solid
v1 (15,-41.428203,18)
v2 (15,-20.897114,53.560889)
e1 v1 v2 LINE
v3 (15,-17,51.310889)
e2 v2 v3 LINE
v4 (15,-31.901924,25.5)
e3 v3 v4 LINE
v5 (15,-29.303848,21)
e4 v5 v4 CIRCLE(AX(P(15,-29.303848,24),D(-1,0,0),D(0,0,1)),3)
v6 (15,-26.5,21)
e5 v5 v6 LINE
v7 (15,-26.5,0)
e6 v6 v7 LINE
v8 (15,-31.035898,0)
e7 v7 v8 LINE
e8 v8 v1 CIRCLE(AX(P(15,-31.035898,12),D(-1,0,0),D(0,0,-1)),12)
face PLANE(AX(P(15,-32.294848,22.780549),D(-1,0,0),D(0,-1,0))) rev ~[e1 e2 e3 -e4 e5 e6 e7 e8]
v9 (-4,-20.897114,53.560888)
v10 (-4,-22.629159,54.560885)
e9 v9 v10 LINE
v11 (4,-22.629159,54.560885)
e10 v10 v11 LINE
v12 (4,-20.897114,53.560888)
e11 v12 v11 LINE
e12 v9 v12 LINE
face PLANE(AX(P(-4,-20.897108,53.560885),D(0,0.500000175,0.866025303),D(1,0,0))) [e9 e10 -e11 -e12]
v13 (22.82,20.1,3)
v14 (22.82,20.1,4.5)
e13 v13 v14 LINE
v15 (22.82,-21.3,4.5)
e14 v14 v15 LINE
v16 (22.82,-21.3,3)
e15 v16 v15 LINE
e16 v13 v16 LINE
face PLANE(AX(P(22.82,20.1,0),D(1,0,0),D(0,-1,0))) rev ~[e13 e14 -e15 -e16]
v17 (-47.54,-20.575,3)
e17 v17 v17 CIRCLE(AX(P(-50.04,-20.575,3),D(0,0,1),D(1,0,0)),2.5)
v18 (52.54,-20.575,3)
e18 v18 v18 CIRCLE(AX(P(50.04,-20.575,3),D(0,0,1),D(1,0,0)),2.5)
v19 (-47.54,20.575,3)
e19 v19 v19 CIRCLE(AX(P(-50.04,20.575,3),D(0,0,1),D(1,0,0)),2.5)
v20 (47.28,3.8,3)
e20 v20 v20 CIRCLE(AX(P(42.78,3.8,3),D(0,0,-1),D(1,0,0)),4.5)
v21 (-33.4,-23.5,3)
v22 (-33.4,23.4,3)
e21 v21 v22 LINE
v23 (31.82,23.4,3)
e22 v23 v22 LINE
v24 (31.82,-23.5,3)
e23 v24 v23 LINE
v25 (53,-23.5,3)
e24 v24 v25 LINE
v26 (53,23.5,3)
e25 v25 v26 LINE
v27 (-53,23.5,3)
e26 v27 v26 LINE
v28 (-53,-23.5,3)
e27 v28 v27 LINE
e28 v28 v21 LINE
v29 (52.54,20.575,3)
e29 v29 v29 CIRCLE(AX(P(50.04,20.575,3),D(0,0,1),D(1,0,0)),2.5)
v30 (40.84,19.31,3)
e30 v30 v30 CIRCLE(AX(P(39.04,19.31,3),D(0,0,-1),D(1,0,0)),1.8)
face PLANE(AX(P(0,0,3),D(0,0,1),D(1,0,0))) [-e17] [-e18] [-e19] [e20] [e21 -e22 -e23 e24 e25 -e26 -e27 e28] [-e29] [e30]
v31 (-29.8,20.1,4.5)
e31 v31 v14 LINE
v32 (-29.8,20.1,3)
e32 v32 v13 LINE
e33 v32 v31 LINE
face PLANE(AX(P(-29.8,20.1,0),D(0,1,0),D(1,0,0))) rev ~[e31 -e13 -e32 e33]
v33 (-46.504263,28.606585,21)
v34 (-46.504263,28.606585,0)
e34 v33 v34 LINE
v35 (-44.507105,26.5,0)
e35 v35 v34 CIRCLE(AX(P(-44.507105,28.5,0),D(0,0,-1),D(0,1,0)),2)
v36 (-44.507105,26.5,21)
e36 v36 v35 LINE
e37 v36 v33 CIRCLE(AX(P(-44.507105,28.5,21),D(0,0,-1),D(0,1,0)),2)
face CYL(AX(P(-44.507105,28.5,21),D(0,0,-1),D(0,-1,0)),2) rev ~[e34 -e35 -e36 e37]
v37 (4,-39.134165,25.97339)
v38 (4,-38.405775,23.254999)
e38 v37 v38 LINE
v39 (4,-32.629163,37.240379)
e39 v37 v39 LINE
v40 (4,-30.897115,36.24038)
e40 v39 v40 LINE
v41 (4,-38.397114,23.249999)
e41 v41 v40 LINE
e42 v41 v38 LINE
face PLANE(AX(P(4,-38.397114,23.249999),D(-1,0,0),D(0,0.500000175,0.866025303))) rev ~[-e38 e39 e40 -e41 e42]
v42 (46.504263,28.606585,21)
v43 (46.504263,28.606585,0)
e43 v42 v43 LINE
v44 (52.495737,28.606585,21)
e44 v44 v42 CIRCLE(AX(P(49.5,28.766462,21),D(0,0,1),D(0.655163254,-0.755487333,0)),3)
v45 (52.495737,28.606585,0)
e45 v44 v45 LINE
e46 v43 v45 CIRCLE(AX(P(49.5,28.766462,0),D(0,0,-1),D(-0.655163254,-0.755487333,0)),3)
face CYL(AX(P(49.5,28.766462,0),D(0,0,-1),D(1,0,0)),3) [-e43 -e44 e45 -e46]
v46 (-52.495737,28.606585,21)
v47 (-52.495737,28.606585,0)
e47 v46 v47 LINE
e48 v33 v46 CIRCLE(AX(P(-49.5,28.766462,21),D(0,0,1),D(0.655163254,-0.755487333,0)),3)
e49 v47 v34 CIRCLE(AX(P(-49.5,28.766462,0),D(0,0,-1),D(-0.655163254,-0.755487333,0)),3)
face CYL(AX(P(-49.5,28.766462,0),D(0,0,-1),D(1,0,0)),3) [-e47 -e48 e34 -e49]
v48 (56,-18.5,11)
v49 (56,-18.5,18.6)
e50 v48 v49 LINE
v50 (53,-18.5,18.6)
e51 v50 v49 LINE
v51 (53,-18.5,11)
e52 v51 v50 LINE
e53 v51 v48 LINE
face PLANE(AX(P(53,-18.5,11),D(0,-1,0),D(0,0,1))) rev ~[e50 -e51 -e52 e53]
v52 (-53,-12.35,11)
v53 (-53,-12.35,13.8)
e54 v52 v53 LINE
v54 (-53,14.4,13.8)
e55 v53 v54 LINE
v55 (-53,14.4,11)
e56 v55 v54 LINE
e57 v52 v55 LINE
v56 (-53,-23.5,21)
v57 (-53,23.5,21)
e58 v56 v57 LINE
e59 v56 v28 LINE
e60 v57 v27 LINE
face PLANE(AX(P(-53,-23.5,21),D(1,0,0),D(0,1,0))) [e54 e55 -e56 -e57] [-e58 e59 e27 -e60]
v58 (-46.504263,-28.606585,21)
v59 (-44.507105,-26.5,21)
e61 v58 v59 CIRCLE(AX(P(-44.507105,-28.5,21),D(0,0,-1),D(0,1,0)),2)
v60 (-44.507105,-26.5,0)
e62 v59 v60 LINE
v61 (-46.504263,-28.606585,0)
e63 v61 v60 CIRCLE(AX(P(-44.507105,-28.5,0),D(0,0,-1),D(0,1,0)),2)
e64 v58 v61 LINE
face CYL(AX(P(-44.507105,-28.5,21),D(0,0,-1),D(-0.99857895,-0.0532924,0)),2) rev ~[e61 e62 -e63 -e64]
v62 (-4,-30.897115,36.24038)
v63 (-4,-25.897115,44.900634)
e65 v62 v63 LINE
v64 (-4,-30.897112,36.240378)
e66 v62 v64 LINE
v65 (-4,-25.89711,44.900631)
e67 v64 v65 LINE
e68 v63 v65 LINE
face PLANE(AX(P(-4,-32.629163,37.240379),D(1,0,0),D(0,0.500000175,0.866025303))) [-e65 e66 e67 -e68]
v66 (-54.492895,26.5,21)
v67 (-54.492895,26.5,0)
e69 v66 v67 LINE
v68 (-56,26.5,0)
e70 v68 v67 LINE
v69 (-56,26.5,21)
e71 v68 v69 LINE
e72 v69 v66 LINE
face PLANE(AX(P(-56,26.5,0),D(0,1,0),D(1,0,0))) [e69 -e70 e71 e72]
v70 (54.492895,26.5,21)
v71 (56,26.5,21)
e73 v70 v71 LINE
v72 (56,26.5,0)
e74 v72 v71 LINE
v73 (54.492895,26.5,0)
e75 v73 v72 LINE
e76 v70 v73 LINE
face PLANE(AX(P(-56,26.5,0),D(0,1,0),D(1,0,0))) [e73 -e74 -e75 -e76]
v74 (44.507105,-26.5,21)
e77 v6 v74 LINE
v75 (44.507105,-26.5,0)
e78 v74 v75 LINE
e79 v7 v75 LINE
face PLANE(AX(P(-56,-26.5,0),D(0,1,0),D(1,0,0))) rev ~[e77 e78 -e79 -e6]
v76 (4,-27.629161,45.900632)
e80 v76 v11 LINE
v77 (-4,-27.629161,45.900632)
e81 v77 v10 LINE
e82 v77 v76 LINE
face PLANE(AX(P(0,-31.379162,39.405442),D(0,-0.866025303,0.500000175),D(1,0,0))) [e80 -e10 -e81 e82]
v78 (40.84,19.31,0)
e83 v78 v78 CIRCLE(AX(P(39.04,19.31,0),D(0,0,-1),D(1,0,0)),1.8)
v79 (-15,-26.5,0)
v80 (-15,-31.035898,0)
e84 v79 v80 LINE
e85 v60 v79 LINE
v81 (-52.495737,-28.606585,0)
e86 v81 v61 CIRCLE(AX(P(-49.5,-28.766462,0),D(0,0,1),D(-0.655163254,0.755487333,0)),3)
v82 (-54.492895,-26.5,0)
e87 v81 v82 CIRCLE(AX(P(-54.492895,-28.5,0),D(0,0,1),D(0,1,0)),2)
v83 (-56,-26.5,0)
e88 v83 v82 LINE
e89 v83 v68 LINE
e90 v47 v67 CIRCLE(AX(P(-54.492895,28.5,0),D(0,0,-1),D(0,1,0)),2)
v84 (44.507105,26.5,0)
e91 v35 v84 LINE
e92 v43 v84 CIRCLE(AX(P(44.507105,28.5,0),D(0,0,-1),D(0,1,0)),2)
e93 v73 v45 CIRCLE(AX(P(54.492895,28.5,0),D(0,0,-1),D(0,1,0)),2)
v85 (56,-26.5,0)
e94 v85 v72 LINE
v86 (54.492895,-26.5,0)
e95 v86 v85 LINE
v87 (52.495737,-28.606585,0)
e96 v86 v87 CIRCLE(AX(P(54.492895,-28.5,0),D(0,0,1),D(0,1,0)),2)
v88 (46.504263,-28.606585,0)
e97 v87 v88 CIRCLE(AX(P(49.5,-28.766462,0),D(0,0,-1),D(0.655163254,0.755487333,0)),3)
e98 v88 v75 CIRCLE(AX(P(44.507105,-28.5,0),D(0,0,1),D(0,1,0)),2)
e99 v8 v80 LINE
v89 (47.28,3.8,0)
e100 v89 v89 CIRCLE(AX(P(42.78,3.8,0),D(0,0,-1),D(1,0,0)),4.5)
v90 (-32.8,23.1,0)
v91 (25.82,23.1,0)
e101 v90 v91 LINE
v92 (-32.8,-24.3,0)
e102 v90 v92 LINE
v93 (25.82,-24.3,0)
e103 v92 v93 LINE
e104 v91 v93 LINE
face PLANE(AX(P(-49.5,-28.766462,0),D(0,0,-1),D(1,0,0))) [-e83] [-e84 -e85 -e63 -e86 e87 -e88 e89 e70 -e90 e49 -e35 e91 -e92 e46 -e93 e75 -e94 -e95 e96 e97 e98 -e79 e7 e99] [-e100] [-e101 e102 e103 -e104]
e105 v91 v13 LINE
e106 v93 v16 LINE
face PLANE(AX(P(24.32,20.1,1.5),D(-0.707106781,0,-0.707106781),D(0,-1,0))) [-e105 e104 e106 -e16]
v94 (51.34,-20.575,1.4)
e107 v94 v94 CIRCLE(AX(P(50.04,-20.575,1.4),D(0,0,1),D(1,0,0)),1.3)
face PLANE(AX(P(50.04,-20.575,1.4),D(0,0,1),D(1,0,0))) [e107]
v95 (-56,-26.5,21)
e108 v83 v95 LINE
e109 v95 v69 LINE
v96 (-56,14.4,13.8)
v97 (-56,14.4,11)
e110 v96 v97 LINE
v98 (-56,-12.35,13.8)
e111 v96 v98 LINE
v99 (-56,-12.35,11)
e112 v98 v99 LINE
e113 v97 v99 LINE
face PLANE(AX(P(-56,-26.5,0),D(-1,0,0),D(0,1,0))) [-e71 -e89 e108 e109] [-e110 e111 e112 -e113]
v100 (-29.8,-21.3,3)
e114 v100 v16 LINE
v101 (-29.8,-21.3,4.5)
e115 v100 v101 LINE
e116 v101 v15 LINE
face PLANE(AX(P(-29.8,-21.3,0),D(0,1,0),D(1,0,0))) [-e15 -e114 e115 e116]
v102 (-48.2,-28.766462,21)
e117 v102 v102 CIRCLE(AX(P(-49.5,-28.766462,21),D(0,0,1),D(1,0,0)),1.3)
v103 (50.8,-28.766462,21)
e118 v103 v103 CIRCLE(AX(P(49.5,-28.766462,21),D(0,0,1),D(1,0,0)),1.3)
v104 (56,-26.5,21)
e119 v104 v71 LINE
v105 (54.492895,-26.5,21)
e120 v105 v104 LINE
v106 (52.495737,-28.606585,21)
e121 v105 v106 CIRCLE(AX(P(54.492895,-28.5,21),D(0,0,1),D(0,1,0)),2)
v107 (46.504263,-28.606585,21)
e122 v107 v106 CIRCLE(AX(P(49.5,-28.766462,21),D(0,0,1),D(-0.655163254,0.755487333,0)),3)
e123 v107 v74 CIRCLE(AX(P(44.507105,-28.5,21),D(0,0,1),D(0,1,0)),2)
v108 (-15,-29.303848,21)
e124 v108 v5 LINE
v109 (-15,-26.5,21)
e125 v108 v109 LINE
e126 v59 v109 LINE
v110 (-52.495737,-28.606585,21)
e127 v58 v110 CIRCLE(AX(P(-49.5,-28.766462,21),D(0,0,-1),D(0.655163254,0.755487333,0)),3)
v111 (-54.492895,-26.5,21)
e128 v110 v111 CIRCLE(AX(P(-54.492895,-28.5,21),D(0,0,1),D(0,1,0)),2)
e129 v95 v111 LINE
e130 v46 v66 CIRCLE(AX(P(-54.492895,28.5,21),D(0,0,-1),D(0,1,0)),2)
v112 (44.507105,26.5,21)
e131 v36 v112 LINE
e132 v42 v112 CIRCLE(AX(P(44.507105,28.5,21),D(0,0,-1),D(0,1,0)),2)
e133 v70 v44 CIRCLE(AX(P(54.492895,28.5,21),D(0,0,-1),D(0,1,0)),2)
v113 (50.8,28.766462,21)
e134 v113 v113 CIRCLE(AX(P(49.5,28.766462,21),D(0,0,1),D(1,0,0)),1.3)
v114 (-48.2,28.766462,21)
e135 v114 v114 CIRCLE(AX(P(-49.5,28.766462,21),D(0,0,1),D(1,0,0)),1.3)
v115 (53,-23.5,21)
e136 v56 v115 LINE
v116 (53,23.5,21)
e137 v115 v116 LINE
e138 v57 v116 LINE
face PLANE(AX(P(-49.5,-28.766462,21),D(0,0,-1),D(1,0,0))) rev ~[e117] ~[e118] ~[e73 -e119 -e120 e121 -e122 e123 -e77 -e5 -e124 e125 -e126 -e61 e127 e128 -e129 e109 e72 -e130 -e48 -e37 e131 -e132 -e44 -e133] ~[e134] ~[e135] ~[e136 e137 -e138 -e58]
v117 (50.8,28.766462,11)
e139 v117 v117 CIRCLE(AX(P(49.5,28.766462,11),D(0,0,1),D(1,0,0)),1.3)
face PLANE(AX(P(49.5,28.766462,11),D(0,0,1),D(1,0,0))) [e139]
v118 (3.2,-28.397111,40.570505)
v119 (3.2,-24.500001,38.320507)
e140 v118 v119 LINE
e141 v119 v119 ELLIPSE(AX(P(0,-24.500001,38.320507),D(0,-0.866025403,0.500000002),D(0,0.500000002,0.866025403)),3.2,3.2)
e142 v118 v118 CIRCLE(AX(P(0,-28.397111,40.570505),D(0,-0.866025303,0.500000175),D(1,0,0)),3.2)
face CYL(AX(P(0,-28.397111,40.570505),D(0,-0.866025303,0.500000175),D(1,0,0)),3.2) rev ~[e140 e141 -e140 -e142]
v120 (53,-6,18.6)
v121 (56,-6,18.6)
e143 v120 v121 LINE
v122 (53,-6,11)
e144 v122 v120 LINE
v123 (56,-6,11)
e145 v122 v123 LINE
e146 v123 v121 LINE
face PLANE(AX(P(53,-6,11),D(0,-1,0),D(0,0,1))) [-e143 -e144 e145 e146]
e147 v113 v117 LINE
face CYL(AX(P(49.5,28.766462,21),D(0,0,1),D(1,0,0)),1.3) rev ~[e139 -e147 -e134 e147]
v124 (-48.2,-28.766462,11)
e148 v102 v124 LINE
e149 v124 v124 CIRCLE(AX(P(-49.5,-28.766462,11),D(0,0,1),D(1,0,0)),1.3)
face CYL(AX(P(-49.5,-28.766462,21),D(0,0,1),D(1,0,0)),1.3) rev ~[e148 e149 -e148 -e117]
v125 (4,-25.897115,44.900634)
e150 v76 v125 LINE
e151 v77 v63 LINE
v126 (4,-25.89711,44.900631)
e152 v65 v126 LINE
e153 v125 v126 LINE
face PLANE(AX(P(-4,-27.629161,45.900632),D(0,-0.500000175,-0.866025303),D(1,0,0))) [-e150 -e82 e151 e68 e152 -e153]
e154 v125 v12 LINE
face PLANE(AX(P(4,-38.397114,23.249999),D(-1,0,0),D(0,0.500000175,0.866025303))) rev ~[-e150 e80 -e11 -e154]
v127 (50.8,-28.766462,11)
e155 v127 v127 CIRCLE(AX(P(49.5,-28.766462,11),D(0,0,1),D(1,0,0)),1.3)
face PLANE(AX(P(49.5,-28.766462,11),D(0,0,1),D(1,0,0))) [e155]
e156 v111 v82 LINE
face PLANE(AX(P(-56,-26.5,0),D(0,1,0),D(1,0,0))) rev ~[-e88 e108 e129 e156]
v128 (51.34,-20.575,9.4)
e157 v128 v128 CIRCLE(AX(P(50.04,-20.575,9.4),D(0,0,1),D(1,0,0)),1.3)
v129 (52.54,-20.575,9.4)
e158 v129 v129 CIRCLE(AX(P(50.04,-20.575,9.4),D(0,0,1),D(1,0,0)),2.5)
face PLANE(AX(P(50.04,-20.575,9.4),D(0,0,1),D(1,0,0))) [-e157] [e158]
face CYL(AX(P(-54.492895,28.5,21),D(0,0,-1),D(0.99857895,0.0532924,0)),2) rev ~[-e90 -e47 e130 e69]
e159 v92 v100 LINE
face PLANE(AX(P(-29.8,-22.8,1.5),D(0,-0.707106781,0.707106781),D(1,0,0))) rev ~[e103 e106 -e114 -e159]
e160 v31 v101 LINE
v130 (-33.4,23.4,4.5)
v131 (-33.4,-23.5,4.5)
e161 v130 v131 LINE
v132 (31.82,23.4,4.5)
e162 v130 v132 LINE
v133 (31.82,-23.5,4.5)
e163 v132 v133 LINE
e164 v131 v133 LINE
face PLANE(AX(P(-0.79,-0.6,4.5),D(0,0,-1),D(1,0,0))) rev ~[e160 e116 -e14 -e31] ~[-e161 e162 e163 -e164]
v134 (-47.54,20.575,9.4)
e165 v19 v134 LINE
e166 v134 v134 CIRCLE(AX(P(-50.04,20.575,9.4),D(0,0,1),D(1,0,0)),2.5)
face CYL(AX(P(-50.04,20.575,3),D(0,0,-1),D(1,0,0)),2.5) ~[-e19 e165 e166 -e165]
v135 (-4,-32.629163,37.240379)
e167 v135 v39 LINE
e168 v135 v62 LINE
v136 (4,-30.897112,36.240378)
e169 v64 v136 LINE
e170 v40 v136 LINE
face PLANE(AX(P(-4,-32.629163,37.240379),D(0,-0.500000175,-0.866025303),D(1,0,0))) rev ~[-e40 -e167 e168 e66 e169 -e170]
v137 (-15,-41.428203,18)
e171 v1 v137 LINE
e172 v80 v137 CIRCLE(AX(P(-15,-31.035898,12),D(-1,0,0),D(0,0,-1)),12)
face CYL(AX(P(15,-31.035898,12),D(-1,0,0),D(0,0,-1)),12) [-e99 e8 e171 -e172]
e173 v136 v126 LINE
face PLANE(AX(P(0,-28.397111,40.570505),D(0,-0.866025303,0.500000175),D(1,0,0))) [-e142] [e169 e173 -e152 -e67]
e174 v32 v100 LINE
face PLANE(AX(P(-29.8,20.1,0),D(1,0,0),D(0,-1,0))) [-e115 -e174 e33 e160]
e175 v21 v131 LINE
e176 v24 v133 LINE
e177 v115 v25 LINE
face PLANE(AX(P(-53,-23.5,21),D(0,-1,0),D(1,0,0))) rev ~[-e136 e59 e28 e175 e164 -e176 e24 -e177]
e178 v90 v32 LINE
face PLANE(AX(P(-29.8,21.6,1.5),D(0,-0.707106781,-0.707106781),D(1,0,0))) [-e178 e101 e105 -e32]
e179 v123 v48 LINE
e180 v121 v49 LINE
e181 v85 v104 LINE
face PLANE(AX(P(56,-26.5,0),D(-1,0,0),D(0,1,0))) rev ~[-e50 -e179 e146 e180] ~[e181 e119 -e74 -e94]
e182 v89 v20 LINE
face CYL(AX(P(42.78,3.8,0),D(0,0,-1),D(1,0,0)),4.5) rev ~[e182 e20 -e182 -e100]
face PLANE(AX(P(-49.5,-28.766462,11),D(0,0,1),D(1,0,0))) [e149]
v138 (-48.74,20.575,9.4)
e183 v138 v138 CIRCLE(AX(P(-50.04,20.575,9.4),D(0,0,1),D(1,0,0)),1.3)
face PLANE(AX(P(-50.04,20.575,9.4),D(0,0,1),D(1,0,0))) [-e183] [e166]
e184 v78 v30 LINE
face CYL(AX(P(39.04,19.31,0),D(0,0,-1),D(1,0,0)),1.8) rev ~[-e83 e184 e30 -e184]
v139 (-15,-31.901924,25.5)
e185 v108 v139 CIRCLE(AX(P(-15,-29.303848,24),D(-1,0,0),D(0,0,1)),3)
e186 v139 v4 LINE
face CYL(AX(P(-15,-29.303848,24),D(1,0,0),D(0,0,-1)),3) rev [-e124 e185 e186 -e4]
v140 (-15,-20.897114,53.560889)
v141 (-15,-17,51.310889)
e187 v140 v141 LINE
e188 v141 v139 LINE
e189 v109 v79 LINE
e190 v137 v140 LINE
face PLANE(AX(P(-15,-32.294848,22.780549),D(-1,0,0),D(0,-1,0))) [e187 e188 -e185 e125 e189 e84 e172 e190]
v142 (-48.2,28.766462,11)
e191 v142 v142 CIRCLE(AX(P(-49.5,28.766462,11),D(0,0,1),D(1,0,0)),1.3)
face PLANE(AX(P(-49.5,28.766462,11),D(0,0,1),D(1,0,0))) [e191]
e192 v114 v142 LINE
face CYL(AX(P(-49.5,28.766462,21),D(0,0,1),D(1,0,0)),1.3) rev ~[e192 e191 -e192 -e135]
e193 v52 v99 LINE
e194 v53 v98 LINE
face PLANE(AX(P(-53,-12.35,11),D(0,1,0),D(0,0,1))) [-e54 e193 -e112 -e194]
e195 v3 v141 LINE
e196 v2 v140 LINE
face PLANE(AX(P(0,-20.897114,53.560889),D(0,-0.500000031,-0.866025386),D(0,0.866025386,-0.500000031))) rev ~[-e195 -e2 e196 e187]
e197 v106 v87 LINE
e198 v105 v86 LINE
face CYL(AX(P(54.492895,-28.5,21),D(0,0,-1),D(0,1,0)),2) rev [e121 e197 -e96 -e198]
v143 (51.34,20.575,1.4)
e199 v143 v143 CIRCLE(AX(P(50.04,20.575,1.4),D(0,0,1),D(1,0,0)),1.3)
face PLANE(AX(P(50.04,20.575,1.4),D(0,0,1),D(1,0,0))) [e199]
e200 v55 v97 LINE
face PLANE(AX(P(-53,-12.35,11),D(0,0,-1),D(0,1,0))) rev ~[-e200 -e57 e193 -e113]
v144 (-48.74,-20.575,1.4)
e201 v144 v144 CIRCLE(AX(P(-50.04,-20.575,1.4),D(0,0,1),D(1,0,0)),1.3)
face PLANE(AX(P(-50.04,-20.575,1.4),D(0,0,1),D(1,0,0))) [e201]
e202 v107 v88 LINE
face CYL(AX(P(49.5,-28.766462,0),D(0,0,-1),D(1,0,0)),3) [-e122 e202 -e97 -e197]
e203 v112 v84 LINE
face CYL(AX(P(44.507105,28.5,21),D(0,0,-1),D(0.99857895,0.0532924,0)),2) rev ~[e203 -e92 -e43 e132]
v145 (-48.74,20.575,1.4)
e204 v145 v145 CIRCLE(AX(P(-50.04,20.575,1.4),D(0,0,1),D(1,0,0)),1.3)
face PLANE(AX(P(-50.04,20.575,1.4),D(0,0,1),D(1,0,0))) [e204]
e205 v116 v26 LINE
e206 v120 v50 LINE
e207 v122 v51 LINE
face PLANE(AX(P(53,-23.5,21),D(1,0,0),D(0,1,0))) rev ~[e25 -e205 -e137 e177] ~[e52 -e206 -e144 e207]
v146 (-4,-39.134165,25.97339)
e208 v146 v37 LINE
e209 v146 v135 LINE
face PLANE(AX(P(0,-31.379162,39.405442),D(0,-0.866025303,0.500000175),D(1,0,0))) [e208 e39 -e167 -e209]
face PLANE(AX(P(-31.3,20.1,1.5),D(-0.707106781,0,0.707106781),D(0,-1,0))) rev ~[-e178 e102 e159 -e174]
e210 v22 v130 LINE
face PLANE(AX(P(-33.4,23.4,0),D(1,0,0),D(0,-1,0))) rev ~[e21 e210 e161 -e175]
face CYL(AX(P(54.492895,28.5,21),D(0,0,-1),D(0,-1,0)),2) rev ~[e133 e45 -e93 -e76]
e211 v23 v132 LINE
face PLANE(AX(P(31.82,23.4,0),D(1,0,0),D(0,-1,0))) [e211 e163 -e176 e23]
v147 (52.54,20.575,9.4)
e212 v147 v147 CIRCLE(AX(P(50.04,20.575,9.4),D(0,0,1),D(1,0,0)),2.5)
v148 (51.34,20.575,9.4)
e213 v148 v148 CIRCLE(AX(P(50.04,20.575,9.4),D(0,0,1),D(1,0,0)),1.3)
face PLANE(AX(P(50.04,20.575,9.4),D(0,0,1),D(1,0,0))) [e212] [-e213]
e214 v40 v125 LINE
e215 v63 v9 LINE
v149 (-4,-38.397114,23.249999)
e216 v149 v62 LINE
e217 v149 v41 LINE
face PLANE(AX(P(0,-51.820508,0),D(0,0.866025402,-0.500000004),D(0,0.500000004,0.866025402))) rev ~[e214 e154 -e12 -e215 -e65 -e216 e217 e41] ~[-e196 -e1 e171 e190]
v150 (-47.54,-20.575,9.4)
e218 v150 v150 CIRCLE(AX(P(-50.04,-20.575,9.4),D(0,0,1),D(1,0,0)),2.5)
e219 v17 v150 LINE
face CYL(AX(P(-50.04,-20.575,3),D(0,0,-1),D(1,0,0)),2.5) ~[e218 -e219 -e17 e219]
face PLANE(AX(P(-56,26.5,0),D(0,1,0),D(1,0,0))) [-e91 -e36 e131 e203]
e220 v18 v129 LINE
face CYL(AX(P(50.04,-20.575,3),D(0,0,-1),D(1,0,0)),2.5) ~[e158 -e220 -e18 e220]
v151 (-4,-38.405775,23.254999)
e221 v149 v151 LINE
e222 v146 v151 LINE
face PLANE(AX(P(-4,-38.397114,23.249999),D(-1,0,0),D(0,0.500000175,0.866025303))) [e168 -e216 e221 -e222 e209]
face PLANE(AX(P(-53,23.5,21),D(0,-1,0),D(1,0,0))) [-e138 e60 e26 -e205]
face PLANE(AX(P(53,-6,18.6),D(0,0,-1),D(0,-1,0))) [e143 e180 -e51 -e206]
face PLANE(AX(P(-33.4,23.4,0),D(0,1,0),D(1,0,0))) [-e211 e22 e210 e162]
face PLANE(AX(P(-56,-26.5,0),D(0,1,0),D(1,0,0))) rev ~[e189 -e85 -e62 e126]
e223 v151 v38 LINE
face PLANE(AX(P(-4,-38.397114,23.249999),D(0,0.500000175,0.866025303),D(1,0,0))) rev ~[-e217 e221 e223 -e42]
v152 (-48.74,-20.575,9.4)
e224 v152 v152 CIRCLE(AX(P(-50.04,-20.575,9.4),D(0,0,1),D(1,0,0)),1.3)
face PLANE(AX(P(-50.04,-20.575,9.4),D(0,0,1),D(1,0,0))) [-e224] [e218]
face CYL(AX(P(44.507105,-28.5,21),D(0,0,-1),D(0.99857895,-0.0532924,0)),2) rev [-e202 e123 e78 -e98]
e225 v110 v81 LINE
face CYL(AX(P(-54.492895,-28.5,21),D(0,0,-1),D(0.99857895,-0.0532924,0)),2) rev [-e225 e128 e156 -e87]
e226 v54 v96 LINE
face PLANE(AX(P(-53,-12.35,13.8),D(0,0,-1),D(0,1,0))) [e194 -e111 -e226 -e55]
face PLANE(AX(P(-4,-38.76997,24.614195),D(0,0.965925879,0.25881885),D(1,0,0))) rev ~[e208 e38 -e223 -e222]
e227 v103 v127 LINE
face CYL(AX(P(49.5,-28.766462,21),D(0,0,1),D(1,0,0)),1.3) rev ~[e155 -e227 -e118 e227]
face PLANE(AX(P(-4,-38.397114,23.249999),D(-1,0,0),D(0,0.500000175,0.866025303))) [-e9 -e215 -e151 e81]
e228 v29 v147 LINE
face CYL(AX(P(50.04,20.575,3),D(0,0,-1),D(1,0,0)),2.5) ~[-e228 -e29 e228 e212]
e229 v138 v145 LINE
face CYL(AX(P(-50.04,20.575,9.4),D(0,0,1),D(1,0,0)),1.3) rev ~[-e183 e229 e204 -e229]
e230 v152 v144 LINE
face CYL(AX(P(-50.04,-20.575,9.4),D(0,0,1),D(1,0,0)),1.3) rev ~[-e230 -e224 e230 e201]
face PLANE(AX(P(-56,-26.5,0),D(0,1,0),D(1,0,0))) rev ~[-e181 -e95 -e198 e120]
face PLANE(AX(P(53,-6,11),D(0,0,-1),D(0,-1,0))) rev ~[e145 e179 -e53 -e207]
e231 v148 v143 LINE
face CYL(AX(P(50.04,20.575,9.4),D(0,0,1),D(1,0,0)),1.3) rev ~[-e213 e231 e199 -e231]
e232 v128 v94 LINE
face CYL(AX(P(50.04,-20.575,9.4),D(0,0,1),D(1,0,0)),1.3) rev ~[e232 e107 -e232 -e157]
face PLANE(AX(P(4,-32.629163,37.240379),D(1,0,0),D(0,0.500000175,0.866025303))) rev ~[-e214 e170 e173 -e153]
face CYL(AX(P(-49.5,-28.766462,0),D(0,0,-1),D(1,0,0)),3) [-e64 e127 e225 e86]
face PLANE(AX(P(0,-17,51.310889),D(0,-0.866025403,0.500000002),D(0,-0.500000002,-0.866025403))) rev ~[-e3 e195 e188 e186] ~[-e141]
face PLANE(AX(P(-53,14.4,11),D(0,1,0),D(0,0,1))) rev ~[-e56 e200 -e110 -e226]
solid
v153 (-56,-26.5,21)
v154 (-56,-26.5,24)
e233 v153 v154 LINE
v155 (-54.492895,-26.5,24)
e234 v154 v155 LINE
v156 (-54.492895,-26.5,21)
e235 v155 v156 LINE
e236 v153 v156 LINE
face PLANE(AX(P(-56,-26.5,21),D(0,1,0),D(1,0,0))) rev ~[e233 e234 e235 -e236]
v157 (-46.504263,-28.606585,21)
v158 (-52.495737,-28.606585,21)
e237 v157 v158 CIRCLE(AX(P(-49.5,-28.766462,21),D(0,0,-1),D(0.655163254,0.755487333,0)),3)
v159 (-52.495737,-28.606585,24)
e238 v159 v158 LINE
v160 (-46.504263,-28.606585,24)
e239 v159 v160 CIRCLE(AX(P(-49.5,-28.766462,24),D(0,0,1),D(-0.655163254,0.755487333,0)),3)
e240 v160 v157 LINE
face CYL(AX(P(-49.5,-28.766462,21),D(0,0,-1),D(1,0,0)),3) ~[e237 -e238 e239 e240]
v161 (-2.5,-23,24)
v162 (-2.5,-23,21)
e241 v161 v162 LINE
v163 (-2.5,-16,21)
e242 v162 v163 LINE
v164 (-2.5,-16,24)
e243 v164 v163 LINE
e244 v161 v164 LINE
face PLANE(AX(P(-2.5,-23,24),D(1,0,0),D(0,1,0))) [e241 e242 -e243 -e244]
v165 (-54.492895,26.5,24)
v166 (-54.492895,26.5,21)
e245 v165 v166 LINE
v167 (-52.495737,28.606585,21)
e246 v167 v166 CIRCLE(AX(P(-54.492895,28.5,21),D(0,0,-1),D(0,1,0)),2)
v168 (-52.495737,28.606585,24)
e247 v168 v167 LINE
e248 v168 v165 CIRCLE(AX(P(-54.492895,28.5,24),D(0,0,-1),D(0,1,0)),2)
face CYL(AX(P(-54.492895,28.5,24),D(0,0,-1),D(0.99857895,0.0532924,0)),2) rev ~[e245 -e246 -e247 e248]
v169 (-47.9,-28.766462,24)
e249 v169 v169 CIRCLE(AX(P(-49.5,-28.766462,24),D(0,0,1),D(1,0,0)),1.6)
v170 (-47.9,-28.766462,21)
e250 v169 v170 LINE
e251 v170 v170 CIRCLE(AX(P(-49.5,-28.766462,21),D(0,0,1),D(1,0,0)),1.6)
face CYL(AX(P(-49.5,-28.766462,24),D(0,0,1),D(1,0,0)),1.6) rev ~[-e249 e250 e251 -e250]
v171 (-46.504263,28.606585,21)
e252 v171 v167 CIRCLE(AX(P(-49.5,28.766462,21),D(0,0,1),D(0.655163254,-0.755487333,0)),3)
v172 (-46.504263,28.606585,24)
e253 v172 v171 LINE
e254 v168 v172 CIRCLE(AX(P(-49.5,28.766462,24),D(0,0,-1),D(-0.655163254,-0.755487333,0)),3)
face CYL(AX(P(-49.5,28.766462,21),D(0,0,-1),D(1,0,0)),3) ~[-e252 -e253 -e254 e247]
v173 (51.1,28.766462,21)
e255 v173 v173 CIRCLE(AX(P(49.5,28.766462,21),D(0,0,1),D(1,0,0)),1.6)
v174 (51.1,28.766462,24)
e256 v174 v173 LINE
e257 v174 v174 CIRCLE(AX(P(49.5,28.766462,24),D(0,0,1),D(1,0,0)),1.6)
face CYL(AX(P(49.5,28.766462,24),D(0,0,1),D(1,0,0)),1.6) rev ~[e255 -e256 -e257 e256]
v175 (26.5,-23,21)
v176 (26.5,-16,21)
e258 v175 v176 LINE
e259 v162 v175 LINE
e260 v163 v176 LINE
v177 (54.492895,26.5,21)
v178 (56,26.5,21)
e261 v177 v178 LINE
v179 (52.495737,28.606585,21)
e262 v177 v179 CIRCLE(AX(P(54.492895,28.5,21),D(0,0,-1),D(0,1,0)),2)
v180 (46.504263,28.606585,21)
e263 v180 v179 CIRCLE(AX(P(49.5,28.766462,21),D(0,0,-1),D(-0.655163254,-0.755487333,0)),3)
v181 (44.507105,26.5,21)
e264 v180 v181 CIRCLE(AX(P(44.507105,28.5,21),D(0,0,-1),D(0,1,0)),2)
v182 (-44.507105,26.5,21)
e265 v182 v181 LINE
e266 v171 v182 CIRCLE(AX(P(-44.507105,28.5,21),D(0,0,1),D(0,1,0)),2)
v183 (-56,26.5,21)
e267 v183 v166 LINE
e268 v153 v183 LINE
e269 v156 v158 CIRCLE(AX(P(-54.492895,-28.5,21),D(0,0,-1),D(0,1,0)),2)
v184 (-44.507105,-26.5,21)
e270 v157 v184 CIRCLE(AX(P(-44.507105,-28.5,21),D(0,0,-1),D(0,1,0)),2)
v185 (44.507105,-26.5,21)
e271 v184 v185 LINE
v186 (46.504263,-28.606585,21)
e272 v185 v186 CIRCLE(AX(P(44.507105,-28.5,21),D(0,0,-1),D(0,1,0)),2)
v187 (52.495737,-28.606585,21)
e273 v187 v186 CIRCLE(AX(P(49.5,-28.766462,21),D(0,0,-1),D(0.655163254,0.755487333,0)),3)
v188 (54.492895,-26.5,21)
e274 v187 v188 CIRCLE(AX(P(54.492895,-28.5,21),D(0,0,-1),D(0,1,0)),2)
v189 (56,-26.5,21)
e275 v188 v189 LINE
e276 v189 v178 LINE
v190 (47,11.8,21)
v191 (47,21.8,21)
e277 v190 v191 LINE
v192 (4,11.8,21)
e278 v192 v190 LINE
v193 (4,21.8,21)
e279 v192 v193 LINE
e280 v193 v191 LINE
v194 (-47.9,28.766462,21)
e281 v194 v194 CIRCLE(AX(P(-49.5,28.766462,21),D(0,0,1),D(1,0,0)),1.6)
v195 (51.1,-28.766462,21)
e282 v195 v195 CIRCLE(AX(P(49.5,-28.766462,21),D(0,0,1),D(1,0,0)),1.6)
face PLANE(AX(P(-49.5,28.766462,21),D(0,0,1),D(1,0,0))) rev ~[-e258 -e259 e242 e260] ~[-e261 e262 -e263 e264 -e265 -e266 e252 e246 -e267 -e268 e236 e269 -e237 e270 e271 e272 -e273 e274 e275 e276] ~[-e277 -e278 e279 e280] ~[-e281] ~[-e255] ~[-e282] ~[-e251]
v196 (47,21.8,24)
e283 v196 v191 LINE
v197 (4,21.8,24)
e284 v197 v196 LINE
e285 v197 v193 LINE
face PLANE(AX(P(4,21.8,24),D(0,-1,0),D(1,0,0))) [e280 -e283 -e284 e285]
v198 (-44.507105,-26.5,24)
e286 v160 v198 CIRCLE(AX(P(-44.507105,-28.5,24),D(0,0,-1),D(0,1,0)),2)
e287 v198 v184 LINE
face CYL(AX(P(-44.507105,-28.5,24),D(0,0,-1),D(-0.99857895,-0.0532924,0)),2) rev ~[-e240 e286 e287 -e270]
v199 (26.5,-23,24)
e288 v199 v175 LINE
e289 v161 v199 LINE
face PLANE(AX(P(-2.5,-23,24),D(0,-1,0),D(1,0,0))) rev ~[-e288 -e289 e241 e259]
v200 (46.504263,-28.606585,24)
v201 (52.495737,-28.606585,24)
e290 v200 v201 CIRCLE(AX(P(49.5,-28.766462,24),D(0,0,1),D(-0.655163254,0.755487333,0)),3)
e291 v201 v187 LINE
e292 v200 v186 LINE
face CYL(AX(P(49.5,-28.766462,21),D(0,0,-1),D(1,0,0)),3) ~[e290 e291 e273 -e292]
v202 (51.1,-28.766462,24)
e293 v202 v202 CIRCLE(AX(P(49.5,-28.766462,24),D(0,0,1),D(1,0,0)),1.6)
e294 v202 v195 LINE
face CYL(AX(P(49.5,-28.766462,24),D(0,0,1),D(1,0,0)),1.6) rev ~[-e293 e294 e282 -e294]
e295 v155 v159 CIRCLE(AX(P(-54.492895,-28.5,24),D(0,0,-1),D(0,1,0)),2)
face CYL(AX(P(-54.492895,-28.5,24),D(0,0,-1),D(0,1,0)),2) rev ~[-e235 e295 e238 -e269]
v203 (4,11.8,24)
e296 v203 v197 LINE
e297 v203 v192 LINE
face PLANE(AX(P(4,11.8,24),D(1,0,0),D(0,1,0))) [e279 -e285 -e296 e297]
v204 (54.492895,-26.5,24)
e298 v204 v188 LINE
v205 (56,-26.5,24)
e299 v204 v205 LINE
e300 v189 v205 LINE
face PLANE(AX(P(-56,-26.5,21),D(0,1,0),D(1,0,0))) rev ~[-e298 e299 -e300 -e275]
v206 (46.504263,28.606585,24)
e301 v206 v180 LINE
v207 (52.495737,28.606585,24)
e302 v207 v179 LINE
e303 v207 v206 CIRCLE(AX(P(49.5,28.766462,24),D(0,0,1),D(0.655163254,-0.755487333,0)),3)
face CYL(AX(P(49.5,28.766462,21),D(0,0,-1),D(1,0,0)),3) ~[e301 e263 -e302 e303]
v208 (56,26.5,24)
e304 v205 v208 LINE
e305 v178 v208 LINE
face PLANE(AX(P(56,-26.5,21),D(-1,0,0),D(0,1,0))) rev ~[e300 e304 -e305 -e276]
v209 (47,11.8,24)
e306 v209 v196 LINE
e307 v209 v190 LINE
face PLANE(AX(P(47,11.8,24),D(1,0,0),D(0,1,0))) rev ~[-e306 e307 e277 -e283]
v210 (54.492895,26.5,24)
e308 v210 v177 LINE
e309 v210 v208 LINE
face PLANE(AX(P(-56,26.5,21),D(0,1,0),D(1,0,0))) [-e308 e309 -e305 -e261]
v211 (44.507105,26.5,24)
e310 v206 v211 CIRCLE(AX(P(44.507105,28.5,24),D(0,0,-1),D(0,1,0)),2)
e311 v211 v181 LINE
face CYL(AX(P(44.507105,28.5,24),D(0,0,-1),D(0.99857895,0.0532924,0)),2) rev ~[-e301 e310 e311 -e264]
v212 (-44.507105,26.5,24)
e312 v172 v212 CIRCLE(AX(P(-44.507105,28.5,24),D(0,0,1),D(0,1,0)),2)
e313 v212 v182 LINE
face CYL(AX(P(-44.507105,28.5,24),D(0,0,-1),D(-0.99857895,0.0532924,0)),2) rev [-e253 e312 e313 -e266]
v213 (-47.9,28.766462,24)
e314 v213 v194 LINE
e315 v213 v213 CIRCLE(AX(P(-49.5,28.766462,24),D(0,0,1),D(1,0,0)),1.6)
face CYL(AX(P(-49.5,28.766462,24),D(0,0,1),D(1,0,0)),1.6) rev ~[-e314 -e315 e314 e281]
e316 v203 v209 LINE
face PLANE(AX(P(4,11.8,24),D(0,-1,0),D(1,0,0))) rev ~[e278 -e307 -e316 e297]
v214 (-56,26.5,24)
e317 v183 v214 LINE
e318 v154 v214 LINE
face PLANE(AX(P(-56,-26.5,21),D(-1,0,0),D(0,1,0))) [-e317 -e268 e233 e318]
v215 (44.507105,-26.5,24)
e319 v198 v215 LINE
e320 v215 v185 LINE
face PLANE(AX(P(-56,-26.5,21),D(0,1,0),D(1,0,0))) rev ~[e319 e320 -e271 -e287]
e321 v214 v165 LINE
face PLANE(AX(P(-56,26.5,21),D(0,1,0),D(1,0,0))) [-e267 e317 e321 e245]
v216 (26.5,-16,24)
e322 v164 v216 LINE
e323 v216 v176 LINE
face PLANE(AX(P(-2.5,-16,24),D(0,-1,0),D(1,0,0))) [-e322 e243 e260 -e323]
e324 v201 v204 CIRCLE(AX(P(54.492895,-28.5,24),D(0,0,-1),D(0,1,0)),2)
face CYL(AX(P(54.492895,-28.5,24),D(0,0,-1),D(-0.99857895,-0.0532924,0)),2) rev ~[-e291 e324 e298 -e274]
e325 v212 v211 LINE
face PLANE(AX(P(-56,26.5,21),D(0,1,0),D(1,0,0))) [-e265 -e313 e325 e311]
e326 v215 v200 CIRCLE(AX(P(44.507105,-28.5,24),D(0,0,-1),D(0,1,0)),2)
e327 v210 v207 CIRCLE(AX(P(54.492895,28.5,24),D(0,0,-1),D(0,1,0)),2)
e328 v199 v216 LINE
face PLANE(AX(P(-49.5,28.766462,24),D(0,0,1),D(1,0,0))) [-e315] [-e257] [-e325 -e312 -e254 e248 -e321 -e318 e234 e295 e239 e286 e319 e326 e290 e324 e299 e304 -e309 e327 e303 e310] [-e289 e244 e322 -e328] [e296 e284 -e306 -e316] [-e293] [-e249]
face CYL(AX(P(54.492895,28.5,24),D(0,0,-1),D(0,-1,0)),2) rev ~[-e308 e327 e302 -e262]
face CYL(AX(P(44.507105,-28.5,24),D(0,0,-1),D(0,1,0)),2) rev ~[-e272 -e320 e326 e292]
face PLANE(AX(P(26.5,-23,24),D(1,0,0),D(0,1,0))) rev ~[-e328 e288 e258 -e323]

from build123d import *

# Parameters (mm, degrees)
SKETCH_W        = 112
SKETCH_H        = 53
PAD_DEPTH       = 21
SKETCH001_W     = 106
SKETCH001_H     = 47
POCKET_DEPTH    = 18
SKETCH002_R     = 2.5
PAD001_DEPTH    = 6.4
SKETCH003_R     = 1.3
POCKET001_DEPTH = 8
SKETCH005_R     = 1.8
SKETCH005_R_2   = 4.5
SKETCH005_W     = 61.22
SKETCH005_H     = 44
POCKET002_DEPTH = 5
SKETCH006_W     = 12.5
SKETCH006_H     = 7.6
POCKET003_DEPTH = 5
SKETCH007_W     = 26.75
SKETCH007_H     = 2.8
POCKET004_DEPTH = 5
SKETCH008_W     = 65.22
SKETCH008_H     = 48
SKETCH008_W_2   = 52.62
SKETCH008_H_2   = 41.4
PAD002_DEPTH    = 4.5
CHAMFER_SIZE    = 3
SKETCH009_R     = 3
PAD003_DEPTH    = 21
FILLET_R        = 2
SKETCH010_R     = 1.3
POCKET005_DEPTH = 10
PAD004_DEPTH    = 15
FILLET001_R     = 12
FILLET002_R     = 3
SKETCH012_W     = 8
SKETCH012_H     = 35
PAD005_DEPTH    = 2
SKETCH013_W     = 8
SKETCH013_H     = 10
POCKET006_DEPTH = 2
CHAMFER001_SIZE = 1.99
SKETCH014_R     = 3.2
POCKET007_DEPTH = 5
SKETCH015_W     = 112
SKETCH015_H     = 53
PAD006_DEPTH    = 3
SKETCH016_R     = 3
PAD007_DEPTH    = 3
FILLET003_R     = 2
SKETCH017_R     = 1.6
POCKET008_DEPTH = 5
SKETCH018_W     = 43
SKETCH018_H     = 10
SKETCH018_W_2   = 29
SKETCH018_H_2   = 7
POCKET009_DEPTH = 5


with BuildPart() as box:
    # Sketch → Pad (new body)
    with BuildSketch(Plane.XY):
        Rectangle(SKETCH_W, SKETCH_H)
    extrude(amount=PAD_DEPTH)

    # Sketch001 (on Face6 of Pad) → Pocket (cut)
    with BuildSketch(Plane.XY.offset(21)):
        Rectangle(SKETCH001_W, SKETCH001_H)
    extrude(amount=-POCKET_DEPTH, mode=Mode.SUBTRACT)

    # Sketch002 (on Face11 of Pocket) → Pad001 (join)
    with BuildSketch(Plane.XY.offset(3)):
        with Locations((-50.04, 20.575)):
            Circle(SKETCH002_R)
        with Locations((50.04, 20.575)):
            Circle(SKETCH002_R)
        with Locations((-50.04, -20.575)):
            Circle(SKETCH002_R)
        with Locations((50.04, -20.575)):
            Circle(SKETCH002_R)
    extrude(amount=PAD001_DEPTH)

    # Sketch003 (on Face18 of Pad001) → Pocket001 (cut)
    with BuildSketch(Plane.XY.offset(9.4)):
        with Locations((-50.04, 20.575)):
            Circle(SKETCH003_R)
        with Locations((-50.04, -20.575)):
            Circle(SKETCH003_R)
        with Locations((50.04, -20.575)):
            Circle(SKETCH003_R)
        with Locations((50.04, 20.575)):
            Circle(SKETCH003_R)
    extrude(amount=-POCKET001_DEPTH, mode=Mode.SUBTRACT)

    # Sketch005 (on Face4 of Pocket001) → Pocket002 (cut)
    with BuildSketch(Plane(origin=(0, 0, 0), x_dir=(1, 0, 0), z_dir=(0, 0, -1))):
        with Locations((39.04, -19.31)):
            Circle(SKETCH005_R)
        with Locations((42.78, -3.8)):
            Circle(SKETCH005_R_2)
        with Locations((-0.79, 0.6)):
            Rectangle(SKETCH005_W, SKETCH005_H)
    extrude(amount=-POCKET002_DEPTH, mode=Mode.SUBTRACT)

    # Sketch006 (on Face14 of Pocket002) → Pocket003 (cut)
    with BuildSketch(Plane(origin=(53, 0, 0), x_dir=(0, -1, 0), z_dir=(-1, 0, 0))):
        with Locations((12.25, 14.8)):
            Rectangle(SKETCH006_W, SKETCH006_H)
    extrude(amount=-POCKET003_DEPTH, mode=Mode.SUBTRACT)

    # Sketch007 (on Face20 of Pocket003) → Pocket004 (cut)
    with BuildSketch(Plane.YZ.offset(-53)):
        with Locations((1.025, 12.4)):
            Rectangle(SKETCH007_W, SKETCH007_H)
    extrude(amount=-POCKET004_DEPTH, mode=Mode.SUBTRACT)

    # Sketch008 (on Face4 of Pocket004) → Pad002 (join)
    with BuildSketch(Plane(origin=(0, 0, 0), x_dir=(1, 0, 0), z_dir=(0, 0, -1))):
        with Locations((-0.79, 0.6)):
            Rectangle(SKETCH008_W, SKETCH008_H)
        with Locations((-3.49, 0.6)):
            Rectangle(SKETCH008_W_2, SKETCH008_H_2, mode=Mode.SUBTRACT)
    extrude(amount=-PAD002_DEPTH)

    # Chamfer
    chamfer_edges = [box.edges().sort_by_distance(p)[0] for p in [
        (-3.49, -21.3, 0),
        (-29.8, -0.6, 0),
        (22.82, -0.6, 0),
        (-3.49, 20.1, 0),
    ]]
    chamfer(chamfer_edges, length=CHAMFER_SIZE)

    # Sketch009 (on Face8 of Chamfer) → Pad003 (join)
    with BuildSketch(Plane(origin=(0, 0, 0), x_dir=(1, 0, 0), z_dir=(0, 0, -1))):
        with Locations((-49.5, 28.766462)):
            Circle(SKETCH009_R)
        with Locations((49.5, 28.766462)):
            Circle(SKETCH009_R)
        with Locations((-49.5, -28.766462)):
            Circle(SKETCH009_R)
        with Locations((49.5, -28.766462)):
            Circle(SKETCH009_R)
    extrude(amount=-PAD003_DEPTH)

    # Fillet
    fillet_edges = [box.edges().sort_by_distance(p)[0] for p in [
        (51.46549, 26.5, 10.5),
        (51.46549, -26.5, 10.5),
        (-47.53451, -26.5, 10.5),
        (-47.53451, 26.5, 10.5),
        (47.53451, 26.5, 10.5),
        (-51.46549, -26.5, 10.5),
        (47.53451, -26.5, 10.5),
        (-51.46549, 26.5, 10.5),
    ]]
    fillet(fillet_edges, radius=FILLET_R)

    # Sketch010 (on Face5 of Fillet) → Pocket005 (cut)
    with BuildSketch(Plane.XY.offset(21)):
        with Locations((-49.5, 28.766462)):
            Circle(SKETCH010_R)
        with Locations((49.5, 28.766462)):
            Circle(SKETCH010_R)
        with Locations((-49.5, -28.766462)):
            Circle(SKETCH010_R)
        with Locations((49.5, -28.766462)):
            Circle(SKETCH010_R)
    extrude(amount=-POCKET005_DEPTH, mode=Mode.SUBTRACT)

    # Sketch011 → Pad004 (join, symmetric)
    with BuildSketch(Plane.YZ):
        Polygon((-26.5, 0), (-51.820508, 0), (-20.897114, 53.560889), (-17, 51.310889), (-34.5, 21), (-26.5, 21), align=None)
    extrude(amount=PAD004_DEPTH, both=True)

    # Fillet001
    fillet001_edges = [box.edges().sort_by_distance(p)[0] for p in [
        (0, -51.820508, 0),
    ]]
    fillet(fillet001_edges, radius=FILLET001_R)

    # Fillet002
    fillet002_edges = [box.edges().sort_by_distance(p)[0] for p in [
        (0, -34.5, 21),
    ]]
    fillet(fillet002_edges, radius=FILLET002_R)

    # Sketch012 (on Face9 of Fillet002) → Pad005 (join)
    with BuildSketch(Plane(origin=(0, -38.865381, 22.438938), x_dir=(1, 0, 0), z_dir=(0, -0.866025, 0.5))):
        with Locations((0, 18.436533)):
            Rectangle(SKETCH012_W, SKETCH012_H)
    extrude(amount=PAD005_DEPTH)

    # Sketch013 (on Face51 of Pad005) → Pocket006 (cut)
    with BuildSketch(Plane(origin=(0, -40.597432, 23.438938), x_dir=(1, 0, 0), z_dir=(0, -0.866025, 0.5))):
        with Locations((0, 20.936533)):
            Rectangle(SKETCH013_W, SKETCH013_H)
    extrude(amount=-POCKET006_DEPTH, mode=Mode.SUBTRACT)

    # Chamfer001
    chamfer001_edges = [box.edges().sort_by_distance(p)[0] for p in [
        (0, -40.129165, 24.25),
    ]]
    chamfer(chamfer001_edges, length=CHAMFER001_SIZE)

    # Sketch014 (on Face6 of Chamfer001) → Pocket007 (cut)
    with BuildSketch(Plane(origin=(0, -38.865381, 22.438938), x_dir=(1, 0, 0), z_dir=(0, -0.866025, 0.5))):
        with Locations((0, 20.936533)):
            Circle(SKETCH014_R)
    extrude(amount=-POCKET007_DEPTH, mode=Mode.SUBTRACT)


with BuildPart() as lid:
    # Sketch015 (on Face1 of ShapeBinder) → Pad006 (new body)
    with BuildSketch(Plane.XY.offset(21)):
        Rectangle(SKETCH015_W, SKETCH015_H)
    extrude(amount=PAD006_DEPTH)

    # Sketch016 (on Face1 of ShapeBinder) → Pad007 (join)
    with BuildSketch(Plane.XY.offset(21)):
        with Locations((-49.5, 28.766462)):
            Circle(SKETCH016_R)
        with Locations((49.5, 28.766462)):
            Circle(SKETCH016_R)
        with Locations((49.5, -28.766462)):
            Circle(SKETCH016_R)
        with Locations((-49.5, -28.766462)):
            Circle(SKETCH016_R)
    extrude(amount=PAD007_DEPTH)

    # Fillet003
    fillet003_edges = [lid.edges().sort_by_distance(p)[0] for p in [
        (-47.53451, 26.5, 22.5),
        (51.46549, 26.5, 22.5),
        (51.46549, -26.5, 22.5),
        (-47.53451, -26.5, 22.5),
        (47.53451, 26.5, 22.5),
        (47.53451, -26.5, 22.5),
        (-51.46549, -26.5, 22.5),
        (-51.46549, 26.5, 22.5),
    ]]
    fillet(fillet003_edges, radius=FILLET003_R)

    # Sketch017 (on Face5 of Fillet003) → Pocket008 (cut)
    with BuildSketch(Plane.XY.offset(24)):
        with Locations((-49.5, 28.766462)):
            Circle(SKETCH017_R)
        with Locations((49.5, 28.766462)):
            Circle(SKETCH017_R)
        with Locations((49.5, -28.766462)):
            Circle(SKETCH017_R)
        with Locations((-49.5, -28.766462)):
            Circle(SKETCH017_R)
    extrude(amount=-POCKET008_DEPTH, mode=Mode.SUBTRACT)

    # Sketch018 (on Face5 of Pocket008) → Pocket009 (cut)
    with BuildSketch(Plane.XY.offset(24)):
        with Locations((25.5, 16.8)):
            Rectangle(SKETCH018_W, SKETCH018_H)
        with Locations((12, -19.5)):
            Rectangle(SKETCH018_W_2, SKETCH018_H_2)
    extrude(amount=-POCKET009_DEPTH, mode=Mode.SUBTRACT)


solid = Compound([box.part, lid.part])
